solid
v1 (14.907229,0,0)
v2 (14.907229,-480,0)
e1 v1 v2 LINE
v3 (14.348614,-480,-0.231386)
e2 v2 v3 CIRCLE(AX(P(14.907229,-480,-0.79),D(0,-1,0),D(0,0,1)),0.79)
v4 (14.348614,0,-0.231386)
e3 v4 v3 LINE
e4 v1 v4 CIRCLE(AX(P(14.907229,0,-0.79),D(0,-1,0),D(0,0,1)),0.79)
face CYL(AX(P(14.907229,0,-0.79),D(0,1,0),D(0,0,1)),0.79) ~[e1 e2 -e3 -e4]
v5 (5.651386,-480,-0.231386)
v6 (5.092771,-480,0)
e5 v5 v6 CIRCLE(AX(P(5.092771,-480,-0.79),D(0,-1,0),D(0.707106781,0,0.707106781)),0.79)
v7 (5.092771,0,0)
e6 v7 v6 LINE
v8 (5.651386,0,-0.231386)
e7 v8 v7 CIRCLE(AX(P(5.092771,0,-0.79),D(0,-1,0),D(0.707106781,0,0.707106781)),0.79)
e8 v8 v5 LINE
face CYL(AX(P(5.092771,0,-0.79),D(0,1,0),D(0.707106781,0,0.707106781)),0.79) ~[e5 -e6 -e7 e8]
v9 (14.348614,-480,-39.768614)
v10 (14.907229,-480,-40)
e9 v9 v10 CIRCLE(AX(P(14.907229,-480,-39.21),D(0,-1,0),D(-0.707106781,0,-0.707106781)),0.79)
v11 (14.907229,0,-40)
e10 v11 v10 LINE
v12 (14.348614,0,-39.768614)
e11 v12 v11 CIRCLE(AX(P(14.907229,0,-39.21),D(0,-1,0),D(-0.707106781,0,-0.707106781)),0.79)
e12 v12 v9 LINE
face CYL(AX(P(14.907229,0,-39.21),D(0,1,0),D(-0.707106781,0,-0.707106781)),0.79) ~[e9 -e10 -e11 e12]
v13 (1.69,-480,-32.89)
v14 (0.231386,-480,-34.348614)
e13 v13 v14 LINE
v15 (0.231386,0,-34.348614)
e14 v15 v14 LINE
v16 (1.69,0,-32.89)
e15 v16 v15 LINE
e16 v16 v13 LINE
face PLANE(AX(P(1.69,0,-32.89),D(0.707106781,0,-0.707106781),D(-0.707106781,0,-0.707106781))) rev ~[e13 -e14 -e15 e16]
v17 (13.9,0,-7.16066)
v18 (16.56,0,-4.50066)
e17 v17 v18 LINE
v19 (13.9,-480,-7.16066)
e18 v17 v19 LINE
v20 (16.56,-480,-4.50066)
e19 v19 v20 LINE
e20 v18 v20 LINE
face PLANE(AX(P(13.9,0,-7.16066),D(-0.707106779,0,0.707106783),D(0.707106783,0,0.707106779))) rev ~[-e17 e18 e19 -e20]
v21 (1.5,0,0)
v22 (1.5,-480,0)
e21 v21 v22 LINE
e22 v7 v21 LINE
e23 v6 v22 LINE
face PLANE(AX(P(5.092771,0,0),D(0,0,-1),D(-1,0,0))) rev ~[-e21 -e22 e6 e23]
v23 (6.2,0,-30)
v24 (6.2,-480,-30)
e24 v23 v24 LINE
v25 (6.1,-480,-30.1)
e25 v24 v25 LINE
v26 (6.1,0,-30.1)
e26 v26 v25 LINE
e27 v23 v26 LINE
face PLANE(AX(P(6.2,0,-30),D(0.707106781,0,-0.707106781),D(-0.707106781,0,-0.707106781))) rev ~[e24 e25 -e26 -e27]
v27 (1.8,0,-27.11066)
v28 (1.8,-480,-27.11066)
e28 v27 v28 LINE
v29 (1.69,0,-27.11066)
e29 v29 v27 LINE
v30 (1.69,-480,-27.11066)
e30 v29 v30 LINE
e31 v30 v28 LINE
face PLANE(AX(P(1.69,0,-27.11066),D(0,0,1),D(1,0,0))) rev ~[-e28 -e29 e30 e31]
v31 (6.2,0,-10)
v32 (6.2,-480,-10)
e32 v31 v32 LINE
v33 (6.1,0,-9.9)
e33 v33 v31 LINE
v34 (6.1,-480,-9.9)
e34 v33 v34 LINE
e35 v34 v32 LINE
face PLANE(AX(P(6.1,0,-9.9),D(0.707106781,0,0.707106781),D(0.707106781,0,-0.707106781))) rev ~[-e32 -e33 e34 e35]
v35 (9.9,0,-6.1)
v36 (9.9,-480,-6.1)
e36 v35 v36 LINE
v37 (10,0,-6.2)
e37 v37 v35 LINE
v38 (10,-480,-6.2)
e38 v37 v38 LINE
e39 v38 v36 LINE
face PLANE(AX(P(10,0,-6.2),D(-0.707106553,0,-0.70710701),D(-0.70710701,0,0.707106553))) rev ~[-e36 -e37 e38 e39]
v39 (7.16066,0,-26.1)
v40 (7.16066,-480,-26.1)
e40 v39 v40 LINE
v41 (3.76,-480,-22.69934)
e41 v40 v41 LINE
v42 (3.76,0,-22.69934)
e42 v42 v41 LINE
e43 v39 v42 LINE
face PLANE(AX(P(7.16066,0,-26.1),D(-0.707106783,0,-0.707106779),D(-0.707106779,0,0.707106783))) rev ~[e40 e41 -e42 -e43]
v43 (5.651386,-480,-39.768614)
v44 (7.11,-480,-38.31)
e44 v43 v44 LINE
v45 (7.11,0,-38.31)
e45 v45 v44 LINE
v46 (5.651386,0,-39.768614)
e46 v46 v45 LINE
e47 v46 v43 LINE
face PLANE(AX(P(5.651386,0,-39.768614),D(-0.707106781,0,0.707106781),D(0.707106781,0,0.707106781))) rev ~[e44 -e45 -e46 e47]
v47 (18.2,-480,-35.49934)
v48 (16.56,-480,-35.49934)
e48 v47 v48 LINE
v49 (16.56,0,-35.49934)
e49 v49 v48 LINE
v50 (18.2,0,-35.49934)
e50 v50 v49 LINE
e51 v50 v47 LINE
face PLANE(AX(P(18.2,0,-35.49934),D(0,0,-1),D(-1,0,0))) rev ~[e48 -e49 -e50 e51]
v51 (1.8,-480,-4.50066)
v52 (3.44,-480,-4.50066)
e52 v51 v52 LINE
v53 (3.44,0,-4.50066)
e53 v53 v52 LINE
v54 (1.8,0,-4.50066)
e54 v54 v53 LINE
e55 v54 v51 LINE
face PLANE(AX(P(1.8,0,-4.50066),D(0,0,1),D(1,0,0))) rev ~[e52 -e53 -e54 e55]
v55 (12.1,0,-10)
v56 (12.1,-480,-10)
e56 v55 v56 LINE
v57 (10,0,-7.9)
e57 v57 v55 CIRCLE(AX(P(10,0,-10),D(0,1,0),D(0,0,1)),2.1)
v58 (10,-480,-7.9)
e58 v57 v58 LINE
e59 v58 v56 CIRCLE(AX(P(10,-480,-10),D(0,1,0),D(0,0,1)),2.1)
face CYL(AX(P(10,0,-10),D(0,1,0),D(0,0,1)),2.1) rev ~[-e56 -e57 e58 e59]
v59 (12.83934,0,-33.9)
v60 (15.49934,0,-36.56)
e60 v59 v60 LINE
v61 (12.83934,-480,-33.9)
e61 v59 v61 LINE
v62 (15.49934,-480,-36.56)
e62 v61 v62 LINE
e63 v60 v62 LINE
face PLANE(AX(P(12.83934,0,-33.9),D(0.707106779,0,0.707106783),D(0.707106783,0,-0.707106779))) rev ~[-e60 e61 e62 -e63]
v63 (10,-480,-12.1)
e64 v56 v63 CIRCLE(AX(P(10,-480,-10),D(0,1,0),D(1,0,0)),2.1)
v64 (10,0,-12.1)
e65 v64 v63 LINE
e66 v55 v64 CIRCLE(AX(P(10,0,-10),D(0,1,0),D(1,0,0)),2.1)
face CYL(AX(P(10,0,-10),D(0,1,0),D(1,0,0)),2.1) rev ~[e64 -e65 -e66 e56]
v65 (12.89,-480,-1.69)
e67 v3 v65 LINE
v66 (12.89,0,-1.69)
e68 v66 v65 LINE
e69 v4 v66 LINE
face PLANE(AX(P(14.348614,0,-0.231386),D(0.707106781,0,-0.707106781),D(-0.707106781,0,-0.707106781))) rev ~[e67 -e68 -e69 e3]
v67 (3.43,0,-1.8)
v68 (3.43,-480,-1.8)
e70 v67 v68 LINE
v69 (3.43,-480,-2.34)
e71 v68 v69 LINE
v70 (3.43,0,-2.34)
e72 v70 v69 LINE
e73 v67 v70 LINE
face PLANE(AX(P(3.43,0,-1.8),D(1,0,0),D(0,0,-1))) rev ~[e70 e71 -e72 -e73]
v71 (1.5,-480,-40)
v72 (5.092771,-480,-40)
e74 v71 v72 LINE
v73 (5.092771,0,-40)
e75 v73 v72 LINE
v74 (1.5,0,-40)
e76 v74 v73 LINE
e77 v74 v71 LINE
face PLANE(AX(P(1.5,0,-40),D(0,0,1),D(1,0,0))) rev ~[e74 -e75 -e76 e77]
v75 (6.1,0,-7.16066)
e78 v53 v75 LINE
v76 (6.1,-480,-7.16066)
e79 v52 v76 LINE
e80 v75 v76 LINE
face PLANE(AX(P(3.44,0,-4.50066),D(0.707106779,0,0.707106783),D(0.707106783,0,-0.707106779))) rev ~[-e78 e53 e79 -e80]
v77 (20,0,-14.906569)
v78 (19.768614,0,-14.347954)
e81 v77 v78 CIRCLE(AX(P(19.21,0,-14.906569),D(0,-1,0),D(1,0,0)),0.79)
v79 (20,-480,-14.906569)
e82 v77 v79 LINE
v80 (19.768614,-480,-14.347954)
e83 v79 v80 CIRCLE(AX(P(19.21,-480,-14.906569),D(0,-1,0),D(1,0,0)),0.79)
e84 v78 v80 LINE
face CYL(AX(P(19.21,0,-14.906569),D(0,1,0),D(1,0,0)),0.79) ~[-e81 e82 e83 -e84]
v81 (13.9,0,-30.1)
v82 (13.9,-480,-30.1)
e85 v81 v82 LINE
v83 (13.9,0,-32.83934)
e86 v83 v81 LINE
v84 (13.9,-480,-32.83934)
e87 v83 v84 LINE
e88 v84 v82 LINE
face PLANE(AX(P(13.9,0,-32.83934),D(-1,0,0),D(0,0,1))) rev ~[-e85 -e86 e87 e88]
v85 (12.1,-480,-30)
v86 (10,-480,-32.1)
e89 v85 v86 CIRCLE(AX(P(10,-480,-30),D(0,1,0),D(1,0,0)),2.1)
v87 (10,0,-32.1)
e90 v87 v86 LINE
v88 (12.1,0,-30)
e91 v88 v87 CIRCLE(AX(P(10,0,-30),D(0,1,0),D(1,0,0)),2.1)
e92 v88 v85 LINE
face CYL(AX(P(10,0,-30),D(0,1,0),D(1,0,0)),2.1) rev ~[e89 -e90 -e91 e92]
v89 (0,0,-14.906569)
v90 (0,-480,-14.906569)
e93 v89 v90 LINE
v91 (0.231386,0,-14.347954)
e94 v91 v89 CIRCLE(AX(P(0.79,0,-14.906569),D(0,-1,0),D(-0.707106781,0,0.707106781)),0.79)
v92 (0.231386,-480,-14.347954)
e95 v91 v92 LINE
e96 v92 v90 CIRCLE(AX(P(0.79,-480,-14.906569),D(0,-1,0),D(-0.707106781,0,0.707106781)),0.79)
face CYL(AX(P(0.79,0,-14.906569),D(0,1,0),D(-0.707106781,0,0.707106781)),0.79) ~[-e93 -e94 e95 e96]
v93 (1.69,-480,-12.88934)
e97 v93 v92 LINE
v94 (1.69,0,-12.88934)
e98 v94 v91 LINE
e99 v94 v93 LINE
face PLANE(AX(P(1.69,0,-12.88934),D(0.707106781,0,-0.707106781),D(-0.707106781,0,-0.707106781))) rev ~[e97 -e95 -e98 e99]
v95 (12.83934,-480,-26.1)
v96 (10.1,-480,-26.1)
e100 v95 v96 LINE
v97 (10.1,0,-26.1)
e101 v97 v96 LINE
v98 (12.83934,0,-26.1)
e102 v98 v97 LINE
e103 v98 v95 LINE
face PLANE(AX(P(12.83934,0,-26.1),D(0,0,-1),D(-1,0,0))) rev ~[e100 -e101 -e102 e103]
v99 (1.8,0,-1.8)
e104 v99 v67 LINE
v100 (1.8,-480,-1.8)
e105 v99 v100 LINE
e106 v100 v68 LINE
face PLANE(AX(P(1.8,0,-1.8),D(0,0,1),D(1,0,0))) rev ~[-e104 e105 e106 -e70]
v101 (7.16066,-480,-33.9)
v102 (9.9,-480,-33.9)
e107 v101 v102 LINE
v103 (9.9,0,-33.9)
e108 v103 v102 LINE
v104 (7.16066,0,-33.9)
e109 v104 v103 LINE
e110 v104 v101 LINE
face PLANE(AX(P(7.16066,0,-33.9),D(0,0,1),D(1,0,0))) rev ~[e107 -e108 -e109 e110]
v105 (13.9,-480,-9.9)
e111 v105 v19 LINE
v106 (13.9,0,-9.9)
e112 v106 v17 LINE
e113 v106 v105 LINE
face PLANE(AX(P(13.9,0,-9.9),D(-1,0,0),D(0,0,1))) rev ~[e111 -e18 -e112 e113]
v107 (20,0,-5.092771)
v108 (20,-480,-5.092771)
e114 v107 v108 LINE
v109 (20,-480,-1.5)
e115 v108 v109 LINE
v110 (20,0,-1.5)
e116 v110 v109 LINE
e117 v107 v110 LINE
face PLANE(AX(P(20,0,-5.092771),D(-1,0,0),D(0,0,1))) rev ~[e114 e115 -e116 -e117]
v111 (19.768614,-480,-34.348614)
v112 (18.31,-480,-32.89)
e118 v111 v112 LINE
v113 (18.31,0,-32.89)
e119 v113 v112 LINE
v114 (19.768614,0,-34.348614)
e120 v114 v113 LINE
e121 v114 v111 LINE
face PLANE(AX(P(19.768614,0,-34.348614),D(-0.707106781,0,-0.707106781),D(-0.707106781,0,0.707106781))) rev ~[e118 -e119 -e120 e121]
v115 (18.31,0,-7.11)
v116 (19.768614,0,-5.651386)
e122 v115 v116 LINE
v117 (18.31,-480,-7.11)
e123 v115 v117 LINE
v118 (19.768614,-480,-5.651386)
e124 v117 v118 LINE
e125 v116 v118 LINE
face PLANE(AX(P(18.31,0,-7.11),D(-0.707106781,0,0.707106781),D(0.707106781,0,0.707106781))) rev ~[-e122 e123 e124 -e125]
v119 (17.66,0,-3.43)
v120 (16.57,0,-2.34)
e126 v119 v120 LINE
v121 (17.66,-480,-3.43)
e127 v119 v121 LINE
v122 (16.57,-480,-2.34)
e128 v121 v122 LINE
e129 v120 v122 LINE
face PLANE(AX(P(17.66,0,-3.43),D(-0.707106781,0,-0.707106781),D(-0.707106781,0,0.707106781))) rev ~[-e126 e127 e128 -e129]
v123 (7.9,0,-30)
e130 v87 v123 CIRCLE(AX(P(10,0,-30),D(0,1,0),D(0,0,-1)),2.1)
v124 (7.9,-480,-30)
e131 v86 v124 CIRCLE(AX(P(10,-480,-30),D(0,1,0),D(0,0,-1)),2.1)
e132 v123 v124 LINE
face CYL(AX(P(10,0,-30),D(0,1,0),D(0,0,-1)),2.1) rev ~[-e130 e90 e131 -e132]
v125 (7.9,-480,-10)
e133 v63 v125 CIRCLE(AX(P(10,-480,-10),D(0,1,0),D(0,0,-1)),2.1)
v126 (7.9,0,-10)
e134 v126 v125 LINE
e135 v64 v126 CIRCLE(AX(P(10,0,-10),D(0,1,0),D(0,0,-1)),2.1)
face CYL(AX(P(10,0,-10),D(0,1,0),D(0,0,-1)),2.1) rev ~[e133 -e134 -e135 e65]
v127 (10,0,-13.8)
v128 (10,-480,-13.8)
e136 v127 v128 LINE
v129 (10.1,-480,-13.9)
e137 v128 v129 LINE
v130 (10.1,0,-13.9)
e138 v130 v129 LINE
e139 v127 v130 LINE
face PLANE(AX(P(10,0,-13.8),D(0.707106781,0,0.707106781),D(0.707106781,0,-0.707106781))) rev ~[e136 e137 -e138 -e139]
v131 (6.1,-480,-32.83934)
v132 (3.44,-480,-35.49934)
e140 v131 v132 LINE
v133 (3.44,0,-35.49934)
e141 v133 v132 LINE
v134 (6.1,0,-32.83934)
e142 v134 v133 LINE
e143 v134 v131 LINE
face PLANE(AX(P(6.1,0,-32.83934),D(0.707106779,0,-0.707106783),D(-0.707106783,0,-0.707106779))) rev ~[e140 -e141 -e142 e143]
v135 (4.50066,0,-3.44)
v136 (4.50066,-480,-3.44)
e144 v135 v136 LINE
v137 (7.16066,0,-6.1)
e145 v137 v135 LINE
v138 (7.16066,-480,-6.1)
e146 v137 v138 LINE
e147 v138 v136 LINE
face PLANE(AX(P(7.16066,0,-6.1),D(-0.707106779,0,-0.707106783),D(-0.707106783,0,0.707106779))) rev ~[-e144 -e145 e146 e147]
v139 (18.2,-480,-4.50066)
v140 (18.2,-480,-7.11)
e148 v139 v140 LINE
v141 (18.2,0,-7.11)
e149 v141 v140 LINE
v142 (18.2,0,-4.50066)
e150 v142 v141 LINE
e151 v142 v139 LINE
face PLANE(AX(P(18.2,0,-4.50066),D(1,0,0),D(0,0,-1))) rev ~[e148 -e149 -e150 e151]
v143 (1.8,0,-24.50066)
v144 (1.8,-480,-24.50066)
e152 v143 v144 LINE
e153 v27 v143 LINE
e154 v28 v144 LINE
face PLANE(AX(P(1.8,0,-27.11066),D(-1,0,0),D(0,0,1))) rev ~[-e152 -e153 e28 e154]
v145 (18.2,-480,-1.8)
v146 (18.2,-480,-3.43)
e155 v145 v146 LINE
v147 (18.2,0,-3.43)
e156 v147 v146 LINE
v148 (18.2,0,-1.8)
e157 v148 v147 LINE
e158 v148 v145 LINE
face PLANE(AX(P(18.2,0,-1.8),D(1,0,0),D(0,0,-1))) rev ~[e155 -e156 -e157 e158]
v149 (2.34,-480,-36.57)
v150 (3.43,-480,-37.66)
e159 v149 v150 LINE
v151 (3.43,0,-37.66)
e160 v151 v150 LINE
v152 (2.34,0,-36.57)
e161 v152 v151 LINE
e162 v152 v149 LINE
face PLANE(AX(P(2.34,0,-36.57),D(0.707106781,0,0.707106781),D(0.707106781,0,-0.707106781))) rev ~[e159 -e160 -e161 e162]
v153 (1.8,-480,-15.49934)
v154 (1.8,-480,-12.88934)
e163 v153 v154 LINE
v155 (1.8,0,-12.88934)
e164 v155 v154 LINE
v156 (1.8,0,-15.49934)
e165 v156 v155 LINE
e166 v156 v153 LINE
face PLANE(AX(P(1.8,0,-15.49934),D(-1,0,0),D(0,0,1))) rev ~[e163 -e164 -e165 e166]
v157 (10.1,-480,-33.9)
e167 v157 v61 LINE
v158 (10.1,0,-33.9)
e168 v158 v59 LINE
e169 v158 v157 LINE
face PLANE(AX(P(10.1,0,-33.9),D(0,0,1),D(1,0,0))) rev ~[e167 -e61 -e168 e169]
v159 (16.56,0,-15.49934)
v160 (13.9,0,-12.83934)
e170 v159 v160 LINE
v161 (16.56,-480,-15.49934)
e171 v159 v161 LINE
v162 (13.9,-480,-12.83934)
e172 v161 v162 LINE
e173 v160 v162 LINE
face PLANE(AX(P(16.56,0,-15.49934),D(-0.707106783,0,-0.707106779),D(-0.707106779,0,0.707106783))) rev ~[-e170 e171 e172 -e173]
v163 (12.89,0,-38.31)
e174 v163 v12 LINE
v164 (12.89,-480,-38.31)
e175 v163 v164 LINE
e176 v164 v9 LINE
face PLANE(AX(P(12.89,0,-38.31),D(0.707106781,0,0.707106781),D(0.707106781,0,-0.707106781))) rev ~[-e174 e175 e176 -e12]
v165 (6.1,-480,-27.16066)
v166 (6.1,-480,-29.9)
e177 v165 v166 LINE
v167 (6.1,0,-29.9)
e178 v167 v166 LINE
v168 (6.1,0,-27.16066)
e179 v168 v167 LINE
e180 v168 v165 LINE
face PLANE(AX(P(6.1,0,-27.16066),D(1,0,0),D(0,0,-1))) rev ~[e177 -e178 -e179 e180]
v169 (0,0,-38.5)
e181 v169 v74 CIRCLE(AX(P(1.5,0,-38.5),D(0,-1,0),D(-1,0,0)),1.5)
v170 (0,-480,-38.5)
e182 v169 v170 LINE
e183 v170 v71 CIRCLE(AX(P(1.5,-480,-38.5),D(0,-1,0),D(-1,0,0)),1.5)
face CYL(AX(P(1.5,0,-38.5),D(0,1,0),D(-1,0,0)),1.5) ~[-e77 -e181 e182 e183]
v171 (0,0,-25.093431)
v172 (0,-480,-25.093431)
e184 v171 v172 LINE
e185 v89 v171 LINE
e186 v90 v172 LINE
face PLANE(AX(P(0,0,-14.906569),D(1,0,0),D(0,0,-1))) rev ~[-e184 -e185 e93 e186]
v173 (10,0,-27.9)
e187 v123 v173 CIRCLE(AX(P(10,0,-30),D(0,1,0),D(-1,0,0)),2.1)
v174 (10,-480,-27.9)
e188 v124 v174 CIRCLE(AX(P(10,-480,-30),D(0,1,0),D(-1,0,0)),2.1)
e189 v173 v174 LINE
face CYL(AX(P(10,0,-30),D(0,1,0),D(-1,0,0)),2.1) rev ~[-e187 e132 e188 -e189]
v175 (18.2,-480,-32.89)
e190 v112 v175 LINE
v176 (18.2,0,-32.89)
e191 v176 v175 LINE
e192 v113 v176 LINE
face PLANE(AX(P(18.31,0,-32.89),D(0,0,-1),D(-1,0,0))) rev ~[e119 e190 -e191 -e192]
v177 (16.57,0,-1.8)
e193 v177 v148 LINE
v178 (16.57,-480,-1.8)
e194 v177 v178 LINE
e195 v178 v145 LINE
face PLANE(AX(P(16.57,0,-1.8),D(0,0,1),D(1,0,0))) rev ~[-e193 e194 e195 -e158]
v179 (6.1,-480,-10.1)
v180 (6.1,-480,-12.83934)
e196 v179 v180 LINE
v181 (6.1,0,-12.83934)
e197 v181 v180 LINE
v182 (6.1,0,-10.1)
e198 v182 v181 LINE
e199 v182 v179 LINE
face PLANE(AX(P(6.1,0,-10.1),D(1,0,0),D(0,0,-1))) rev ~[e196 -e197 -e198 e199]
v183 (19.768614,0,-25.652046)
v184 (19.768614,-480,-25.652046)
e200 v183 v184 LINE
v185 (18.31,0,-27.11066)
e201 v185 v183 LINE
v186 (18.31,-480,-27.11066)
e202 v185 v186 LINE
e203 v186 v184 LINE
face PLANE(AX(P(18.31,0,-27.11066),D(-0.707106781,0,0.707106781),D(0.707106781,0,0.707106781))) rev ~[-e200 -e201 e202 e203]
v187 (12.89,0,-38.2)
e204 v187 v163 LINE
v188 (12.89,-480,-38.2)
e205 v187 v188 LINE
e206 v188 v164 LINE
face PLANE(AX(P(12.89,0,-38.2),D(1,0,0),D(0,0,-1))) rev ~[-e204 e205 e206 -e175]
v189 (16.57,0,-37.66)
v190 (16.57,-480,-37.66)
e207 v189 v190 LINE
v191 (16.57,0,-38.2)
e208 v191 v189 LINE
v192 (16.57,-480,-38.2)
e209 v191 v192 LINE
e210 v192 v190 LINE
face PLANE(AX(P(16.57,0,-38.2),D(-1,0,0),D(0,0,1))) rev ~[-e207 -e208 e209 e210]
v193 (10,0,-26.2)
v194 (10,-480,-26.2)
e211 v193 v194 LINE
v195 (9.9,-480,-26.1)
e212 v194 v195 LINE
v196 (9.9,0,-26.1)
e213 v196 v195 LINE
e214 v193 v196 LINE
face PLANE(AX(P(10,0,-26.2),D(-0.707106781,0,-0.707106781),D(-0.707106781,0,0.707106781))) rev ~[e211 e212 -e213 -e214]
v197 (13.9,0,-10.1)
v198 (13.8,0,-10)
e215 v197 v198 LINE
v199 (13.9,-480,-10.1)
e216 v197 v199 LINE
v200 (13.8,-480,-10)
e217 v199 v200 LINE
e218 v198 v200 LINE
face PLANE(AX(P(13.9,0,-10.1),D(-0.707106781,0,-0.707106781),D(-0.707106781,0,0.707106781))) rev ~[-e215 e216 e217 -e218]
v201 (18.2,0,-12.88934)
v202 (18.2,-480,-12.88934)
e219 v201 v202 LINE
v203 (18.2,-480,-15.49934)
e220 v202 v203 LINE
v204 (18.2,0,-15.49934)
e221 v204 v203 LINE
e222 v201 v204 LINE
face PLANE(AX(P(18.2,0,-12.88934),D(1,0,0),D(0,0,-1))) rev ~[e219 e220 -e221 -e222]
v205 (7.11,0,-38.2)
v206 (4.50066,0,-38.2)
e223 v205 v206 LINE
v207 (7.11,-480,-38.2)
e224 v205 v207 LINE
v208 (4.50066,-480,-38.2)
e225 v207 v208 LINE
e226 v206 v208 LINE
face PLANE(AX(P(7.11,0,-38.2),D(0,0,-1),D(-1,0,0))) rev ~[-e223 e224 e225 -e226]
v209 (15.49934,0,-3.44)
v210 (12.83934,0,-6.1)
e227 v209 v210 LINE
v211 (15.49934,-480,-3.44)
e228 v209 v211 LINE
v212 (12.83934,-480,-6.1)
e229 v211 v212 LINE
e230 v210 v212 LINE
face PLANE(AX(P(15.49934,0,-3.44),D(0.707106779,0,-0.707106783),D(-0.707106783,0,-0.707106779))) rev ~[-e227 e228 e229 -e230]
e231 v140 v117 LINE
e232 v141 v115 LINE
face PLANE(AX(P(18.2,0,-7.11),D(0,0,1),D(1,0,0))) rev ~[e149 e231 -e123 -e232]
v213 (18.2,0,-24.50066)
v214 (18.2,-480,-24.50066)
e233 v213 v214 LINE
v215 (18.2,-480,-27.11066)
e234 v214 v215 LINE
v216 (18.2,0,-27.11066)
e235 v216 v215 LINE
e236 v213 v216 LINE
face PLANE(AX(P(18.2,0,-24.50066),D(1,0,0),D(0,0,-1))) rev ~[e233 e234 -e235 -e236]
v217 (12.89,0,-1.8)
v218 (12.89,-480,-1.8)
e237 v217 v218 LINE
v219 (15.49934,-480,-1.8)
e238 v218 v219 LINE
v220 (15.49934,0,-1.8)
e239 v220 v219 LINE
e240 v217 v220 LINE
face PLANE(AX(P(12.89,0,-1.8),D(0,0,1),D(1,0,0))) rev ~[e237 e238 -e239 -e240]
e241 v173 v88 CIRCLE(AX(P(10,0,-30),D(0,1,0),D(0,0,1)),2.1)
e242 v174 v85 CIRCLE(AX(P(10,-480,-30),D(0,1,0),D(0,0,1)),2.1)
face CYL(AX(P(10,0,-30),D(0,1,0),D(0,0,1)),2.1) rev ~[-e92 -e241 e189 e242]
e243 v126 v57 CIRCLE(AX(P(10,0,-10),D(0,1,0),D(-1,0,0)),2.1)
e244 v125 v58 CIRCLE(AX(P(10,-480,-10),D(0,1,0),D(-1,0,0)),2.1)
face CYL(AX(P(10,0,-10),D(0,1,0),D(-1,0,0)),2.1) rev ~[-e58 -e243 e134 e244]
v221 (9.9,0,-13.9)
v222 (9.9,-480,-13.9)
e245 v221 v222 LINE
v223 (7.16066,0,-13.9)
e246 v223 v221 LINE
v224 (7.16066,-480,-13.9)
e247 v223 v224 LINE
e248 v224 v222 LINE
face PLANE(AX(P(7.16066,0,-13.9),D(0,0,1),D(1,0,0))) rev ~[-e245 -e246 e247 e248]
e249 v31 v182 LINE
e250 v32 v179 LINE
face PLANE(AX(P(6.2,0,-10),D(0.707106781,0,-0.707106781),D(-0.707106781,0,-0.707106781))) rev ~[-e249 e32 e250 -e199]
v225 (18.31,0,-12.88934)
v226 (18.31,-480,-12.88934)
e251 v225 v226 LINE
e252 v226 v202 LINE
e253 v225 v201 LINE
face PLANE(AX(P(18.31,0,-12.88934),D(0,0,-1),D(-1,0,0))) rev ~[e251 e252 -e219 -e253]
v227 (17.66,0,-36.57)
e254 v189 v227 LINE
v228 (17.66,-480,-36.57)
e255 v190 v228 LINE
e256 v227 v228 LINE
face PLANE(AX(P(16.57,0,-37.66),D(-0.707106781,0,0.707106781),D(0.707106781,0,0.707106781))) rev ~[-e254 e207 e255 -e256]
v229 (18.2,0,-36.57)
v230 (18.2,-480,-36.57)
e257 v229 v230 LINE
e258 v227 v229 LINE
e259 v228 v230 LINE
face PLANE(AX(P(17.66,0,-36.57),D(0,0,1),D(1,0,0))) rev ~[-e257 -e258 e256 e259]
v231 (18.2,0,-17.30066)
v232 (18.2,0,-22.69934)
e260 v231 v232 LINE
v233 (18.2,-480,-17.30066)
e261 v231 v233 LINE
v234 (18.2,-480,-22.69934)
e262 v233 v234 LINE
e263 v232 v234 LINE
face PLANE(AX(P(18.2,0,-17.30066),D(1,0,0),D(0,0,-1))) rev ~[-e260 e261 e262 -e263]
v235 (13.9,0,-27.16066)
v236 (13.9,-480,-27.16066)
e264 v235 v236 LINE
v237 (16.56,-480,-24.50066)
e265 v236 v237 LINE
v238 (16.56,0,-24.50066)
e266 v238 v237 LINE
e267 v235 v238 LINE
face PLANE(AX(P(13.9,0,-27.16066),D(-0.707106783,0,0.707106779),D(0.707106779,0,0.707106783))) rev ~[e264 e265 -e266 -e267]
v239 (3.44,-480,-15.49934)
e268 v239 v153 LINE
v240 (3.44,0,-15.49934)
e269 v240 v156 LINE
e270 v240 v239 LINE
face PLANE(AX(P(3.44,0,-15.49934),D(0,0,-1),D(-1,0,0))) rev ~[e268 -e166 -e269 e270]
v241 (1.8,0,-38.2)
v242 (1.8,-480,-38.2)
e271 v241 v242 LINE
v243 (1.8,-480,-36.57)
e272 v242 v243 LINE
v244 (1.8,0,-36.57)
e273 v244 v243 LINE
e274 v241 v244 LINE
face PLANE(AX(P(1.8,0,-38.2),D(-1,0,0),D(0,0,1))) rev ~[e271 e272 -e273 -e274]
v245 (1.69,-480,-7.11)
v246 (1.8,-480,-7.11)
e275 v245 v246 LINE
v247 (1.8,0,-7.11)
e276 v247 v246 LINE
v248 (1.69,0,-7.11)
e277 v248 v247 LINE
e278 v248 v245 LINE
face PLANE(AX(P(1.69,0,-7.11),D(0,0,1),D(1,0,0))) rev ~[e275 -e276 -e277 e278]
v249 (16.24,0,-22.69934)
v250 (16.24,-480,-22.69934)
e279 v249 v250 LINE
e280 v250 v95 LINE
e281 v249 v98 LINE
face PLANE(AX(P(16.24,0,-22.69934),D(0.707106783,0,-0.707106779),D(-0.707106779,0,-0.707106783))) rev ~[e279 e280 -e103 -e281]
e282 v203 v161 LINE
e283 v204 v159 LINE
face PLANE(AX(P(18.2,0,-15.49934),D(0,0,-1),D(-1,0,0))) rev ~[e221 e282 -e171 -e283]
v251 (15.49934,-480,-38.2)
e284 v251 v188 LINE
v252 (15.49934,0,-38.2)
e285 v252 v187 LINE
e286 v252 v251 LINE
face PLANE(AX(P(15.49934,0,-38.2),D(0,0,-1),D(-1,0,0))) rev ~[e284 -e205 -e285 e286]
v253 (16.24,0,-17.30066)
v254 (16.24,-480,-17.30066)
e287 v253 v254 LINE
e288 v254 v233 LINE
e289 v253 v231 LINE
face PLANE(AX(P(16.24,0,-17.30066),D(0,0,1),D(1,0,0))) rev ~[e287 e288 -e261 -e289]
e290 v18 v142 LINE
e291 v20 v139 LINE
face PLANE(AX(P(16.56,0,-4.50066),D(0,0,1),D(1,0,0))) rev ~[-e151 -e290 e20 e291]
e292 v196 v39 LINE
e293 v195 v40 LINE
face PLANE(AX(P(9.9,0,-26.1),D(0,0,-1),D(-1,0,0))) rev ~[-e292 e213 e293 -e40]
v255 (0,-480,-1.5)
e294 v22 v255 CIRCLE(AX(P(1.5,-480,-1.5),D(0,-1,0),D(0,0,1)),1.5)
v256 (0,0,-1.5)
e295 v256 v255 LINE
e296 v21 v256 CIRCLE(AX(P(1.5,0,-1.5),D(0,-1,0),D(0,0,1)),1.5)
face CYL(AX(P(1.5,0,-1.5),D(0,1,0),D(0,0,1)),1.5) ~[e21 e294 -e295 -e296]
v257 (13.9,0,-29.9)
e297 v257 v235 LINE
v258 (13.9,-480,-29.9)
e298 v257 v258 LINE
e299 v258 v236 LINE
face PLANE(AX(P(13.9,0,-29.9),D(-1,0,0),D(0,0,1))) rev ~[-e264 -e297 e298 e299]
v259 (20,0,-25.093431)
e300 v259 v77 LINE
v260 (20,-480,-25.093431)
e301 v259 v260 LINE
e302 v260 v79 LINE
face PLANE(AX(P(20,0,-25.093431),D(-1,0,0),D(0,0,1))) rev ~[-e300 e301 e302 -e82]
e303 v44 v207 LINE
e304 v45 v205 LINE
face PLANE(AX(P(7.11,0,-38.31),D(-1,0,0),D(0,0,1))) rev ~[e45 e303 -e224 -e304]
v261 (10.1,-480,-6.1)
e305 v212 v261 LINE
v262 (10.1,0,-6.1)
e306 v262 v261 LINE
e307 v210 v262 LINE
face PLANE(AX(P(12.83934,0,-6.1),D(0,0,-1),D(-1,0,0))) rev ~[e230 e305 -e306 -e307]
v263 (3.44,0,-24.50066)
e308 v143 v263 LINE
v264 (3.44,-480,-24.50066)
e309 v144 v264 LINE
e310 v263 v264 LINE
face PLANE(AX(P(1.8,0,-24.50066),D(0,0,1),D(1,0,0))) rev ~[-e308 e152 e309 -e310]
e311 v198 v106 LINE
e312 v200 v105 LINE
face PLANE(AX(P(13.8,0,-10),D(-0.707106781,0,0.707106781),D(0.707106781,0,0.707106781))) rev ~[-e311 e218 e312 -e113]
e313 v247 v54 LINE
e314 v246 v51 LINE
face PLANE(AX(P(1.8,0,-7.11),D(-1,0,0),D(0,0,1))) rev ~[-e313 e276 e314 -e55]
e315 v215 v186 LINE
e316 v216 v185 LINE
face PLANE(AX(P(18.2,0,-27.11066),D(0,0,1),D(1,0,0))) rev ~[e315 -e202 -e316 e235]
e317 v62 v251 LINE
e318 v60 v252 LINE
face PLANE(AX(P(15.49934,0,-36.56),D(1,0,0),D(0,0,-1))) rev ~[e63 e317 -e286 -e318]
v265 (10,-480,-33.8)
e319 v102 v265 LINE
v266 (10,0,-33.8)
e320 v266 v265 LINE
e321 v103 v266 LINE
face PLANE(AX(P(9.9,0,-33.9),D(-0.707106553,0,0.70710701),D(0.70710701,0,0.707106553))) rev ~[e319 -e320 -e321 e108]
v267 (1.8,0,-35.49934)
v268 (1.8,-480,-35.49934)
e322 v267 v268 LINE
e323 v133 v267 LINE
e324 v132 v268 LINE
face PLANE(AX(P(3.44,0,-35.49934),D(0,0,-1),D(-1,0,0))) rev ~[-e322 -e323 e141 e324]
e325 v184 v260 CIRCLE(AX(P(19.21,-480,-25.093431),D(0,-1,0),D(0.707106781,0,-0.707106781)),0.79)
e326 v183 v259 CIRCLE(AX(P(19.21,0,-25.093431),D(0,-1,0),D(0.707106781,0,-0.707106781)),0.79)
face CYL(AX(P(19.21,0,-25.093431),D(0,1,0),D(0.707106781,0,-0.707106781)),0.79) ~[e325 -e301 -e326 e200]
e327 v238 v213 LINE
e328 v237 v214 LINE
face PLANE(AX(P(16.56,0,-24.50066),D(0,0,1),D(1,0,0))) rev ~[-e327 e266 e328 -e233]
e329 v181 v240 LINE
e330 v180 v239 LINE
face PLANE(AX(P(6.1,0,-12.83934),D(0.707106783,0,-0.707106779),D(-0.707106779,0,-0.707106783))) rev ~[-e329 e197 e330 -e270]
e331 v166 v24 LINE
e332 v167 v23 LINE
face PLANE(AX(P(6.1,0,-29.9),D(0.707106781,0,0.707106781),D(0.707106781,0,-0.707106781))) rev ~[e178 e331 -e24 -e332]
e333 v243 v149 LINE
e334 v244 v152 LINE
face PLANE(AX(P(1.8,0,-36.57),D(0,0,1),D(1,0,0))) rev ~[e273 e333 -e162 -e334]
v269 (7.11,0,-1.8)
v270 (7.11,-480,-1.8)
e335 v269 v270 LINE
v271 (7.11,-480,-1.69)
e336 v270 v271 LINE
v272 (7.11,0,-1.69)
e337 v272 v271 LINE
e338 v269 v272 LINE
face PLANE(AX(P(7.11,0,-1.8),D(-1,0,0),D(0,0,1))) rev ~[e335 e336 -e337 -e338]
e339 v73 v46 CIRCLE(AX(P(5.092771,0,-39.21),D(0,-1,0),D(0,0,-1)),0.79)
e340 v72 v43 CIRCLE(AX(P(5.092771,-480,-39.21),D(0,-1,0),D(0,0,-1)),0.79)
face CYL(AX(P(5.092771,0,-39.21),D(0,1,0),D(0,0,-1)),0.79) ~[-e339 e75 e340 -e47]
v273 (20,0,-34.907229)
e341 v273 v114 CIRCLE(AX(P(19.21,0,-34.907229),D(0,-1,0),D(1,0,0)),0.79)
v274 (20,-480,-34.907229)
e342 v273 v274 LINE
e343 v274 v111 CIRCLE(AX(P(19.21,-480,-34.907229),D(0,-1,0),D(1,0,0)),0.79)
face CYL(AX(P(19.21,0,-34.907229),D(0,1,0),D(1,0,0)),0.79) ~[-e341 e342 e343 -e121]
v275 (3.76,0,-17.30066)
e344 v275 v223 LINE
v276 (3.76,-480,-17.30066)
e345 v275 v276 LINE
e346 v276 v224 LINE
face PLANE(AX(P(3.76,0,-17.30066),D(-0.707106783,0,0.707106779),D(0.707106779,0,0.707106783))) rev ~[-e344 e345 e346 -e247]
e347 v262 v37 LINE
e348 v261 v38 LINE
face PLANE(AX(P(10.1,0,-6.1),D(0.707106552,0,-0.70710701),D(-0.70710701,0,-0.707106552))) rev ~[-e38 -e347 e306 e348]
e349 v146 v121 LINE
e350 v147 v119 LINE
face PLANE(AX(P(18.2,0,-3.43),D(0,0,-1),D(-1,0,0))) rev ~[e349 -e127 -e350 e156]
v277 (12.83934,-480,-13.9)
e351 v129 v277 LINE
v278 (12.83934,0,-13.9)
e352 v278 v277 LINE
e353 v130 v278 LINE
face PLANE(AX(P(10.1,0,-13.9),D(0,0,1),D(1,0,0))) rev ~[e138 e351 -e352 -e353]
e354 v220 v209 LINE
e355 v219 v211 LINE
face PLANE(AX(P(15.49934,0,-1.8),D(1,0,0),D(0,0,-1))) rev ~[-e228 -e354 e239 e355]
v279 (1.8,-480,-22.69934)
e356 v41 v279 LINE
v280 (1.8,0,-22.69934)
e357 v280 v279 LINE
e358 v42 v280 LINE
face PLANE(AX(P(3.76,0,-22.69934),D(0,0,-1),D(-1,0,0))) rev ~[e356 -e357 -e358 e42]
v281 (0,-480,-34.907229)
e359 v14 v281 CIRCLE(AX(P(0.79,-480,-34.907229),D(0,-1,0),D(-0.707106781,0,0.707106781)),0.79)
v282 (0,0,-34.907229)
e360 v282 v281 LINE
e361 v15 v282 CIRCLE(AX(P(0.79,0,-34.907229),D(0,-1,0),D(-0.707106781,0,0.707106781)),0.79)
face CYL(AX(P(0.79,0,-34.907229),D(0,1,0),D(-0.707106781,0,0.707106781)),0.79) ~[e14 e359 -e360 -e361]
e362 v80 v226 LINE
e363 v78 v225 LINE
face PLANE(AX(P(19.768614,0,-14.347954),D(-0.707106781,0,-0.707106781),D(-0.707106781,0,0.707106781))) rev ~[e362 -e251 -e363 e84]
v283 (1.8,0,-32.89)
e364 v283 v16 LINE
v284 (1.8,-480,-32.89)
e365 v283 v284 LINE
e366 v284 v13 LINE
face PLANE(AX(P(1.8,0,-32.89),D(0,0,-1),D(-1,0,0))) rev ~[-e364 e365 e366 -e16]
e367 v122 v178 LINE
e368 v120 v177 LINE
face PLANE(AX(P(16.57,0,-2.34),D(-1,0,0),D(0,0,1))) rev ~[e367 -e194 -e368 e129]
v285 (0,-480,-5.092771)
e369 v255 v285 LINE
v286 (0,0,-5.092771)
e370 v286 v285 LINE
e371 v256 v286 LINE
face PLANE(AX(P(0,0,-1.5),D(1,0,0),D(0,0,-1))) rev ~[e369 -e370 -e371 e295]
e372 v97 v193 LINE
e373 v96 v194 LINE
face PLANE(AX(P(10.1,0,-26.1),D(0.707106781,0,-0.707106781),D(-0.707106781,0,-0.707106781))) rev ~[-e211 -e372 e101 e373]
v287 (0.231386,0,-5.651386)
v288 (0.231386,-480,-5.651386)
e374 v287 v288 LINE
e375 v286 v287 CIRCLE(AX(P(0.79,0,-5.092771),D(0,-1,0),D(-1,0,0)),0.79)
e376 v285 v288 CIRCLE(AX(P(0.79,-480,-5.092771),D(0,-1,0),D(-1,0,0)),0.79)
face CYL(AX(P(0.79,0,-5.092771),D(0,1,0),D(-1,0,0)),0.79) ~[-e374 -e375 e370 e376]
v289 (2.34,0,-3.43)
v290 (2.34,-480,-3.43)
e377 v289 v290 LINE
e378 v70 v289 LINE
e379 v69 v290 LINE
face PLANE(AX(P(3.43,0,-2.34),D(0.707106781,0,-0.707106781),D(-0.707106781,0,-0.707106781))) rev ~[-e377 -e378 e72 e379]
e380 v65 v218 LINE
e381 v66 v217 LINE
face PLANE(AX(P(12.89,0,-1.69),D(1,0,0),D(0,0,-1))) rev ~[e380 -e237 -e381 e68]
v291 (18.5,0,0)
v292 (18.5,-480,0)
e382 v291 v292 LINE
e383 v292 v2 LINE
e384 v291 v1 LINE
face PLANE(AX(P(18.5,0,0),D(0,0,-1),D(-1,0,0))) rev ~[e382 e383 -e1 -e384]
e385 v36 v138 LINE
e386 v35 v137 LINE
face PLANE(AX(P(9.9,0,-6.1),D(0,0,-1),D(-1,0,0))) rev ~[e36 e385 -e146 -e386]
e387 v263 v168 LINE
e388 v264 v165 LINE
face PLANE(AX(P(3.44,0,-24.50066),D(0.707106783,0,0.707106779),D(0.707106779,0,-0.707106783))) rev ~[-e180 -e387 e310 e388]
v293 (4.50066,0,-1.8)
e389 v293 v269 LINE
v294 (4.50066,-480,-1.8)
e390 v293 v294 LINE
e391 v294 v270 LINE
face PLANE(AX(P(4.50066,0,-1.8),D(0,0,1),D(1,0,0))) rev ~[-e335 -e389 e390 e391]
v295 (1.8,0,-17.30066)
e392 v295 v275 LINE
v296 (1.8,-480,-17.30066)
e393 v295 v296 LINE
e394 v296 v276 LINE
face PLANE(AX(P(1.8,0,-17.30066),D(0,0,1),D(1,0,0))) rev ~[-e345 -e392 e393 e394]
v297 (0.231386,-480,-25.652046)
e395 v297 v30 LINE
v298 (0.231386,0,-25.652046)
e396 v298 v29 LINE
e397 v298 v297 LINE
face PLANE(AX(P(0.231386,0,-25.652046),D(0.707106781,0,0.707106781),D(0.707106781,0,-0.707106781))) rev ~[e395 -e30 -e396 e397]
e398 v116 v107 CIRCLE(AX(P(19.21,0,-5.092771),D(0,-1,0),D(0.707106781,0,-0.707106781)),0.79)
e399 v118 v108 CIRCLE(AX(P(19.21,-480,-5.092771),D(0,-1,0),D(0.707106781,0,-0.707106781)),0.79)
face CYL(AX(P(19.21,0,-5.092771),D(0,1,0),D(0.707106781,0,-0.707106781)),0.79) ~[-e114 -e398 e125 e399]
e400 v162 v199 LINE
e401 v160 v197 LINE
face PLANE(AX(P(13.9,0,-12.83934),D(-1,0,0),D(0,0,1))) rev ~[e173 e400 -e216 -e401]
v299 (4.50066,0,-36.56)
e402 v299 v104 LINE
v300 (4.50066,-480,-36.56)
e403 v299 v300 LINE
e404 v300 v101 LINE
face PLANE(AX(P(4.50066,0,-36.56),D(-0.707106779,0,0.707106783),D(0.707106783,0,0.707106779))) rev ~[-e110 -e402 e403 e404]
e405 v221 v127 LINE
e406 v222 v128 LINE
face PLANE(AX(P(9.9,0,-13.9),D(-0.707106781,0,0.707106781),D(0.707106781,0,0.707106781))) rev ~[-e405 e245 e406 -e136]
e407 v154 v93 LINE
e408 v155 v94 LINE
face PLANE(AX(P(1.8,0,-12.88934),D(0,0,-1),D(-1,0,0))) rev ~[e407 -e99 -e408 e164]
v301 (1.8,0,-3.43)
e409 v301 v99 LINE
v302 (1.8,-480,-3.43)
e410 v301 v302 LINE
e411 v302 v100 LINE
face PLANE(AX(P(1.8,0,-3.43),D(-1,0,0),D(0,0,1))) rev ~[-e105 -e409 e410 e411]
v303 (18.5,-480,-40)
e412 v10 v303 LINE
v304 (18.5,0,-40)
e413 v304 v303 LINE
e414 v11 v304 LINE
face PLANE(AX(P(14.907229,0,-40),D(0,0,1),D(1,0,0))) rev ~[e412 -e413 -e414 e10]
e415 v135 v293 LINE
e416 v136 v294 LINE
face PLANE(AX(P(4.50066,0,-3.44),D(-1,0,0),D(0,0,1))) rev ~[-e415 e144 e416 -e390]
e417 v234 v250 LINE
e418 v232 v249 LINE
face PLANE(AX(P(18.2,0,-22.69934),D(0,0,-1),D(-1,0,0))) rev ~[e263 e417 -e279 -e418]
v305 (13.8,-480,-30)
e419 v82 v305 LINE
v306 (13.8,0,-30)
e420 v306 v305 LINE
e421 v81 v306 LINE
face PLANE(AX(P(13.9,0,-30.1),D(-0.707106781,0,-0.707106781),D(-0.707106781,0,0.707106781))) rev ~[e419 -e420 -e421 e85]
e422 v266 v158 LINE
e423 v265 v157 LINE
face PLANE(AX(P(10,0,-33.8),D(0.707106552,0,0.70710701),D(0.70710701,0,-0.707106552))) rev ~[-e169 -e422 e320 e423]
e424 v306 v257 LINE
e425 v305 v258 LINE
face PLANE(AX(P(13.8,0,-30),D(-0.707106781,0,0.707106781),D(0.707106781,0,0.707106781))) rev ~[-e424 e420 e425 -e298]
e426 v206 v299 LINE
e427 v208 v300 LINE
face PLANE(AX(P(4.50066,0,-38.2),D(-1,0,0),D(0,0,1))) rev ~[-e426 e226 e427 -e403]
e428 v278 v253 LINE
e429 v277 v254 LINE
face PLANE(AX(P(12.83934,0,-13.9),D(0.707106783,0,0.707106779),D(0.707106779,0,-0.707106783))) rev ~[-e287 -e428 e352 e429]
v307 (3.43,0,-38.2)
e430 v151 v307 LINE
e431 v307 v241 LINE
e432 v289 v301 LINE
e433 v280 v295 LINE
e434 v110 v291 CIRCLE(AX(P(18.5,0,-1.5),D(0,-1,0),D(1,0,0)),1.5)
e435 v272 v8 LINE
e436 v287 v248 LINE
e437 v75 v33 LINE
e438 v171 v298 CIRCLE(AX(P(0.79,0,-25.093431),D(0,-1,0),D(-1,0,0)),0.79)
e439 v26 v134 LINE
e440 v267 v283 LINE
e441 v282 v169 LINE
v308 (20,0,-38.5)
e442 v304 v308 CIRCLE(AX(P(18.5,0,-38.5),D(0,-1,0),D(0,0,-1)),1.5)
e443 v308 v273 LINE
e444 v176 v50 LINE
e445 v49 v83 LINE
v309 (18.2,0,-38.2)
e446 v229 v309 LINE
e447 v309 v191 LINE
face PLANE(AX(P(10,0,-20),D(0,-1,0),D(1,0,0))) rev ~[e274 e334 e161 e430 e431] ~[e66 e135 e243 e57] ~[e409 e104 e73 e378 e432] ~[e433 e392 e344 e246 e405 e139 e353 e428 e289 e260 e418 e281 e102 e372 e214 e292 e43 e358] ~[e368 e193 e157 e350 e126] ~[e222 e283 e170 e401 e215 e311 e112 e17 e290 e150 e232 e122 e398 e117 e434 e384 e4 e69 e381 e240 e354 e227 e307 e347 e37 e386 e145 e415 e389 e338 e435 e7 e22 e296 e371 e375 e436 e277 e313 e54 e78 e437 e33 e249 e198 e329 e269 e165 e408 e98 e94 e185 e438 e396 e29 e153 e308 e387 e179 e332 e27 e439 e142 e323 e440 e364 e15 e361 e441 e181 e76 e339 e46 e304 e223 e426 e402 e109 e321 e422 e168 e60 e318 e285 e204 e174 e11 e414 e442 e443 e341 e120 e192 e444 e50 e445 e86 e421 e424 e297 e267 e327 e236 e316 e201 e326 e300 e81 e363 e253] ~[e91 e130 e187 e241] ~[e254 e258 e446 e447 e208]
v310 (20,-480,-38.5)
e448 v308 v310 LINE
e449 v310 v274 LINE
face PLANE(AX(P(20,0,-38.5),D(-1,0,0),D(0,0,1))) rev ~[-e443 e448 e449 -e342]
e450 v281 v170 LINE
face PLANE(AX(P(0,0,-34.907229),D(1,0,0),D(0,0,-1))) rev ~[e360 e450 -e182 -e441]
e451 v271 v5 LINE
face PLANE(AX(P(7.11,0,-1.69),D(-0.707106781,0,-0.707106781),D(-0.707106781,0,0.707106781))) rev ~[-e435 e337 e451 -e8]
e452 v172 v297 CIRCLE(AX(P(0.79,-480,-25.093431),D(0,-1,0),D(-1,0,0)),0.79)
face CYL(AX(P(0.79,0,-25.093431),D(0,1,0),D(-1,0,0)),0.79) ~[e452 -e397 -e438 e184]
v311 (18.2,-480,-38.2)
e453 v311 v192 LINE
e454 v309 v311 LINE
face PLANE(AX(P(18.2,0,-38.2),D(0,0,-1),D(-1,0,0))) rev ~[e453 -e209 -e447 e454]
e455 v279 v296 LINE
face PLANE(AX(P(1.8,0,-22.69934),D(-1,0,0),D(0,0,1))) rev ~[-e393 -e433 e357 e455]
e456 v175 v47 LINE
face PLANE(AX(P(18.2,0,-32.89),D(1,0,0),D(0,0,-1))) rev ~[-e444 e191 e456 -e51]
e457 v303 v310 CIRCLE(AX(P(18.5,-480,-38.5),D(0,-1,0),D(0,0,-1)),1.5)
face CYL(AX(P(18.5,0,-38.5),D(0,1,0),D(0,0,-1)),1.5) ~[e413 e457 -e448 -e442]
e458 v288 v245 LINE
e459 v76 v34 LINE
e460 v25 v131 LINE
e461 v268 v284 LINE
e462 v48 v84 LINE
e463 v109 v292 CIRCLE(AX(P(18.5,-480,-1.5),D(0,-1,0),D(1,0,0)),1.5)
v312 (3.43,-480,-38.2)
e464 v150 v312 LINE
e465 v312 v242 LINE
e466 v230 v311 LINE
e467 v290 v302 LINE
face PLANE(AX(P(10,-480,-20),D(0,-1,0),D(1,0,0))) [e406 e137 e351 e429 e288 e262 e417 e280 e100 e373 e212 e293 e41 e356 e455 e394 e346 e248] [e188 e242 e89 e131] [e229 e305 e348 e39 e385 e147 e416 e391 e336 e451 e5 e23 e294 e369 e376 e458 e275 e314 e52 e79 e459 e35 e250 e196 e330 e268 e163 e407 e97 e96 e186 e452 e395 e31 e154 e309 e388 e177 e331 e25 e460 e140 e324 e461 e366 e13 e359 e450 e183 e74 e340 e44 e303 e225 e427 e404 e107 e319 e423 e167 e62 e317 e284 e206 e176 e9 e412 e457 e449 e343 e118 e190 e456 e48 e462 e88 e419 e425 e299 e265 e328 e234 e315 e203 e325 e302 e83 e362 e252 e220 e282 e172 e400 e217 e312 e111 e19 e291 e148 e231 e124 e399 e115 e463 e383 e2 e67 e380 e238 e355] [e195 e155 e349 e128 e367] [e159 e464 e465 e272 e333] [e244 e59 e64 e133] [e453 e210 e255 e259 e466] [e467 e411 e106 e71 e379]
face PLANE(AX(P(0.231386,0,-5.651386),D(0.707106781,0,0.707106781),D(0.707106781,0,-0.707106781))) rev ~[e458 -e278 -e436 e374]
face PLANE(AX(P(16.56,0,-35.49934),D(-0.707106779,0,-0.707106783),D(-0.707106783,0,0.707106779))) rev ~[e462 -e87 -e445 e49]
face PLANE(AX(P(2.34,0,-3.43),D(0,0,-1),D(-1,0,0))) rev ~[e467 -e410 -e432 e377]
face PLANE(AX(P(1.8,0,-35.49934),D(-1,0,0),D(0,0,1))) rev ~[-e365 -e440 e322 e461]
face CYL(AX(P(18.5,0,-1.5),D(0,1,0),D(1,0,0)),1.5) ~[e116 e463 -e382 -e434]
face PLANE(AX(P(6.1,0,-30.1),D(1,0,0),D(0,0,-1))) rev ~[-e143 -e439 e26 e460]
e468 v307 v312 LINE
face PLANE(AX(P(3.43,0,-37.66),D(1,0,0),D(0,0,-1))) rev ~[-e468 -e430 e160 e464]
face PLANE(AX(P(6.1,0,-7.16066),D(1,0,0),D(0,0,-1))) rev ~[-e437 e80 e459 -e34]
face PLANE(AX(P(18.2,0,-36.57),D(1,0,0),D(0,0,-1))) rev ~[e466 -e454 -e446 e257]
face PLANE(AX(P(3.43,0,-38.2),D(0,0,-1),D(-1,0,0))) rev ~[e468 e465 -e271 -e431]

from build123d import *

# Parameters (mm, degrees)
F2_DEPTH = 480


with BuildPart() as f2:
    # F0 (on Front) → F2 (new body)
    with BuildSketch(Plane.XZ):
        with BuildLine():
            Line((5.0927712857, 0), (1.5, 0))
            ThreePointArc((1.5, 0), (0.4393398282, -0.4393398282), (0, -1.5))
            Line((0, -1.5), (0, -5.0927712857))
            ThreePointArc((0, -5.0927712857), (0.0601351693, -5.3950911973), (0.2313856429, -5.6513856429))
            Line((0.2313856429, -5.6513856429), (1.69, -7.11))
            Line((1.69, -7.11), (1.8, -7.11))
            Line((1.8, -7.11), (1.8, -4.5006601718))
            Line((1.8, -4.5006601718), (3.44, -4.5006601718))
            Line((3.44, -4.5006601718), (6.1000000155, -7.1606601718))
            Line((6.1000000155, -7.1606601718), (6.1000000155, -9.9))
            Line((6.1000000155, -9.9), (6.2000000155, -10))
            Line((6.2000000155, -10), (6.1000000155, -10.1))
            Line((6.1000000155, -10.1), (6.1000000155, -12.8393398605))
            Line((6.1000000155, -12.8393398605), (3.44, -15.4993398916))
            Line((3.44, -15.4993398916), (1.8, -15.4993398916))
            Line((1.8, -15.4993398916), (1.8, -12.8893398916))
            Line((1.8, -12.8893398916), (1.69, -12.8893398916))
            Line((1.69, -12.8893398916), (0.2313856429, -14.3479542487))
            ThreePointArc((0.2313856429, -14.3479542487), (0.0601351693, -14.6042486943), (0, -14.9065686059))
            Line((0, -14.9065686059), (0, -20))
            Line((0, -20), (0, -25.0934313941))
            ThreePointArc((0, -25.0934313941), (0.0601351693, -25.3957513057), (0.2313856429, -25.6520457513))
            Line((0.2313856429, -25.6520457513), (1.69, -27.1106601084))
            Line((1.69, -27.1106601084), (1.8, -27.1106601084))
            Line((1.8, -27.1106601084), (1.8, -24.5006601084))
            Line((1.8, -24.5006601084), (3.44, -24.5006601084))
            Line((3.44, -24.5006601084), (6.1000000155, -27.1606601395))
            Line((6.1000000155, -27.1606601395), (6.1000000155, -29.9))
            Line((6.1000000155, -29.9), (6.2000000155, -30))
            Line((6.2000000155, -30), (6.1000000155, -30.1))
            Line((6.1000000155, -30.1), (6.1000000155, -32.8393398282))
            Line((6.1000000155, -32.8393398282), (3.44, -35.4993398282))
            Line((3.44, -35.4993398282), (1.8, -35.4993398282))
            Line((1.8, -35.4993398282), (1.8, -32.89))
            Line((1.8, -32.89), (1.69, -32.89))
            Line((1.69, -32.89), (0.2313856429, -34.3486143571))
            ThreePointArc((0.2313856429, -34.3486143571), (0.0601351693, -34.6049088027), (0, -34.9072287143))
            Line((0, -34.9072287143), (0, -38.5))
            ThreePointArc((0, -38.5), (0.4393398282, -39.5606601718), (1.5, -40))
            Line((1.5, -40), (5.0927712857, -40))
            ThreePointArc((5.0927712857, -40), (5.3950911973, -39.9398648307), (5.6513856429, -39.7686143571))
            Line((5.6513856429, -39.7686143571), (7.11, -38.31))
            Line((7.11, -38.31), (7.11, -38.2))
            Line((7.11, -38.2), (4.5006601718, -38.2))
            Line((4.5006601718, -38.2), (4.5006601718, -36.56))
            Line((4.5006601718, -36.56), (7.1606601873, -33.9))
            Line((7.1606601873, -33.9), (9.9000000155, -33.9))
            Line((9.9000000155, -33.9), (10.0000000478, -33.8000000323))
            Line((10.0000000478, -33.8000000323), (10.1000000802, -33.9))
            Line((10.1000000802, -33.9), (12.8393399084, -33.9))
            Line((12.8393399084, -33.9), (15.4993399239, -36.56))
            Line((15.4993399239, -36.56), (15.4993399239, -38.2))
            Line((15.4993399239, -38.2), (12.8900000957, -38.2))
            Line((12.8900000957, -38.2), (12.8900000957, -38.31))
            Line((12.8900000957, -38.31), (14.3486144528, -39.7686143571))
            ThreePointArc((14.3486144528, -39.7686143571), (14.6049088984, -39.9398648307), (14.90722881, -40))
            Line((14.90722881, -40), (18.5000000957, -40))
            ThreePointArc((18.5000000957, -40), (19.5606602675, -39.5606601718), (20.0000000957, -38.5))
            Line((20.0000000957, -38.5), (20.0000000957, -34.9072287143))
            ThreePointArc((20.0000000957, -34.9072287143), (19.9398649264, -34.6049088027), (19.7686144528, -34.3486143571))
            Line((19.7686144528, -34.3486143571), (18.3100000957, -32.89))
            Line((18.3100000957, -32.89), (18.2000000957, -32.89))
            Line((18.2000000957, -32.89), (18.2000000957, -35.4993398282))
            Line((18.2000000957, -35.4993398282), (16.5600000957, -35.4993398282))
            Line((16.5600000957, -35.4993398282), (13.9000000802, -32.8393398282))
            Line((13.9000000802, -32.8393398282), (13.9000000802, -30.1))
            Line((13.9000000802, -30.1), (13.8000000802, -30))
            Line((13.8000000802, -30), (13.9000000802, -29.9))
            Line((13.9000000802, -29.9), (13.9000000802, -27.1606601395))
            Line((13.9000000802, -27.1606601395), (16.5600000957, -24.5006601084))
            Line((16.5600000957, -24.5006601084), (18.2000000957, -24.5006601084))
            Line((18.2000000957, -24.5006601084), (18.2000000957, -27.1106601084))
            Line((18.2000000957, -27.1106601084), (18.3100000957, -27.1106601084))
            Line((18.3100000957, -27.1106601084), (19.7686144528, -25.6520457513))
            ThreePointArc((19.7686144528, -25.6520457513), (19.9398649264, -25.3957513057), (20.0000000957, -25.0934313941))
            Line((20.0000000957, -25.0934313941), (20.0000000957, -20))
            Line((20.0000000957, -20), (20.0000000957, -14.9065686059))
            ThreePointArc((20.0000000957, -14.9065686059), (19.9398649264, -14.6042486943), (19.7686144528, -14.3479542487))
            Line((19.7686144528, -14.3479542487), (18.3100000957, -12.8893398916))
            Line((18.3100000957, -12.8893398916), (18.2000000957, -12.8893398916))
            Line((18.2000000957, -12.8893398916), (18.2000000957, -15.4993398916))
            Line((18.2000000957, -15.4993398916), (16.5600000957, -15.4993398916))
            Line((16.5600000957, -15.4993398916), (13.9000000802, -12.8393398605))
            Line((13.9000000802, -12.8393398605), (13.9000000802, -10.1))
            Line((13.9000000802, -10.1), (13.8000000802, -10))
            Line((13.8000000802, -10), (13.9000000802, -9.9))
            Line((13.9000000802, -9.9), (13.9000000802, -7.1606601718))
            Line((13.9000000802, -7.1606601718), (16.5600000957, -4.5006601718))
            Line((16.5600000957, -4.5006601718), (18.2000000957, -4.5006601718))
            Line((18.2000000957, -4.5006601718), (18.2000000957, -7.11))
            Line((18.2000000957, -7.11), (18.3100000957, -7.11))
            Line((18.3100000957, -7.11), (19.7686144528, -5.6513856429))
            ThreePointArc((19.7686144528, -5.6513856429), (19.9398649264, -5.3950911973), (20.0000000957, -5.0927712857))
            Line((20.0000000957, -5.0927712857), (20.0000000957, -1.5))
            ThreePointArc((20.0000000957, -1.5), (19.5606602675, -0.4393398282), (18.5000000957, 0))
            Line((18.5000000957, 0), (14.90722881, 0))
            ThreePointArc((14.90722881, 0), (14.6049088984, -0.0601351693), (14.3486144528, -0.2313856429))
            Line((14.3486144528, -0.2313856429), (12.8900000957, -1.69))
            Line((12.8900000957, -1.69), (12.8900000957, -1.8))
            Line((12.8900000957, -1.8), (15.4993399239, -1.8))
            Line((15.4993399239, -1.8), (15.4993399239, -3.44))
            Line((15.4993399239, -3.44), (12.8393399084, -6.1))
            Line((12.8393399084, -6.1), (10.1000000802, -6.1))
            Line((10.1000000802, -6.1), (10.0000000478, -6.1999999677))
            Line((10.0000000478, -6.1999999677), (9.9000000155, -6.1))
            Line((9.9000000155, -6.1), (7.1606601873, -6.1))
            Line((7.1606601873, -6.1), (4.5006601718, -3.44))
            Line((4.5006601718, -3.44), (4.5006601718, -1.8))
            Line((4.5006601718, -1.8), (7.11, -1.8))
            Line((7.11, -1.8), (7.11, -1.69))
            Line((7.11, -1.69), (5.6513856429, -0.2313856429))
            ThreePointArc((5.6513856429, -0.2313856429), (5.3950911973, -0.0601351693), (5.0927712857, 0))
        make_face()
        Polygon((1.8, -38.2), (1.8, -36.57), (2.34, -36.57), (3.43, -37.66), (3.43, -38.2), align=None, mode=Mode.SUBTRACT)
        with BuildLine():
            ThreePointArc((10.0000000478, -27.9), (11.4849242883, -28.5150757595), (12.1000000478, -30))
            ThreePointArc((12.1000000478, -30), (11.4849242883, -31.4849242405), (10.0000000478, -32.1))
            ThreePointArc((10.0000000478, -32.1), (8.5150758074, -31.4849242405), (7.9000000478, -30))
            ThreePointArc((7.9000000478, -30), (8.5150758074, -28.5150757595), (10.0000000478, -27.9))
        make_face(mode=Mode.SUBTRACT)
        Polygon((17.6600000957, -36.57), (18.2000000957, -36.57), (18.2000000957, -38.2), (16.5700000957, -38.2), (16.5700000957, -37.66), align=None, mode=Mode.SUBTRACT)
        Polygon((9.9000000478, -13.9000000323), (10.0000000478, -13.8000000323), (10.1000000478, -13.9000000323), (12.8393399084, -13.9000000323), (16.2400000478, -17.3006601916), (18.2000000478, -17.3006601916), (18.2000000478, -20), (18.2000000478, -22.6993398084), (16.2400000478, -22.6993398084), (12.8393399084, -26.0999999677), (10.1000000478, -26.0999999677), (10.0000000478, -26.1999999677), (9.9000000478, -26.0999999677), (7.1606601873, -26.0999999677), (3.7600000478, -22.6993398084), (1.8000000478, -22.6993398084), (1.8000000478, -20), (1.8000000478, -17.3006601916), (3.7600000478, -17.3006601916), (7.1606601873, -13.9000000323), align=None, mode=Mode.SUBTRACT)
        Polygon((1.8, -3.43), (1.8, -1.8), (3.43, -1.8), (3.43, -2.34), (2.34, -3.43), align=None, mode=Mode.SUBTRACT)
        with BuildLine():
            ThreePointArc((7.9000000478, -10), (8.5150758074, -8.5150757595), (10.0000000478, -7.9))
            ThreePointArc((10.0000000478, -7.9), (11.4849242883, -8.5150757595), (12.1000000478, -10))
            ThreePointArc((12.1000000478, -10), (11.4849242883, -11.4849242405), (10.0000000478, -12.1))
            ThreePointArc((10.0000000478, -12.1), (8.5150758074, -11.4849242405), (7.9000000478, -10))
        make_face(mode=Mode.SUBTRACT)
        Polygon((16.5700000957, -2.34), (16.5700000957, -1.8), (18.2000000957, -1.8), (18.2000000957, -3.43), (17.6600000957, -3.43), align=None, mode=Mode.SUBTRACT)
    extrude(amount=F2_DEPTH)


solid = f2.part
